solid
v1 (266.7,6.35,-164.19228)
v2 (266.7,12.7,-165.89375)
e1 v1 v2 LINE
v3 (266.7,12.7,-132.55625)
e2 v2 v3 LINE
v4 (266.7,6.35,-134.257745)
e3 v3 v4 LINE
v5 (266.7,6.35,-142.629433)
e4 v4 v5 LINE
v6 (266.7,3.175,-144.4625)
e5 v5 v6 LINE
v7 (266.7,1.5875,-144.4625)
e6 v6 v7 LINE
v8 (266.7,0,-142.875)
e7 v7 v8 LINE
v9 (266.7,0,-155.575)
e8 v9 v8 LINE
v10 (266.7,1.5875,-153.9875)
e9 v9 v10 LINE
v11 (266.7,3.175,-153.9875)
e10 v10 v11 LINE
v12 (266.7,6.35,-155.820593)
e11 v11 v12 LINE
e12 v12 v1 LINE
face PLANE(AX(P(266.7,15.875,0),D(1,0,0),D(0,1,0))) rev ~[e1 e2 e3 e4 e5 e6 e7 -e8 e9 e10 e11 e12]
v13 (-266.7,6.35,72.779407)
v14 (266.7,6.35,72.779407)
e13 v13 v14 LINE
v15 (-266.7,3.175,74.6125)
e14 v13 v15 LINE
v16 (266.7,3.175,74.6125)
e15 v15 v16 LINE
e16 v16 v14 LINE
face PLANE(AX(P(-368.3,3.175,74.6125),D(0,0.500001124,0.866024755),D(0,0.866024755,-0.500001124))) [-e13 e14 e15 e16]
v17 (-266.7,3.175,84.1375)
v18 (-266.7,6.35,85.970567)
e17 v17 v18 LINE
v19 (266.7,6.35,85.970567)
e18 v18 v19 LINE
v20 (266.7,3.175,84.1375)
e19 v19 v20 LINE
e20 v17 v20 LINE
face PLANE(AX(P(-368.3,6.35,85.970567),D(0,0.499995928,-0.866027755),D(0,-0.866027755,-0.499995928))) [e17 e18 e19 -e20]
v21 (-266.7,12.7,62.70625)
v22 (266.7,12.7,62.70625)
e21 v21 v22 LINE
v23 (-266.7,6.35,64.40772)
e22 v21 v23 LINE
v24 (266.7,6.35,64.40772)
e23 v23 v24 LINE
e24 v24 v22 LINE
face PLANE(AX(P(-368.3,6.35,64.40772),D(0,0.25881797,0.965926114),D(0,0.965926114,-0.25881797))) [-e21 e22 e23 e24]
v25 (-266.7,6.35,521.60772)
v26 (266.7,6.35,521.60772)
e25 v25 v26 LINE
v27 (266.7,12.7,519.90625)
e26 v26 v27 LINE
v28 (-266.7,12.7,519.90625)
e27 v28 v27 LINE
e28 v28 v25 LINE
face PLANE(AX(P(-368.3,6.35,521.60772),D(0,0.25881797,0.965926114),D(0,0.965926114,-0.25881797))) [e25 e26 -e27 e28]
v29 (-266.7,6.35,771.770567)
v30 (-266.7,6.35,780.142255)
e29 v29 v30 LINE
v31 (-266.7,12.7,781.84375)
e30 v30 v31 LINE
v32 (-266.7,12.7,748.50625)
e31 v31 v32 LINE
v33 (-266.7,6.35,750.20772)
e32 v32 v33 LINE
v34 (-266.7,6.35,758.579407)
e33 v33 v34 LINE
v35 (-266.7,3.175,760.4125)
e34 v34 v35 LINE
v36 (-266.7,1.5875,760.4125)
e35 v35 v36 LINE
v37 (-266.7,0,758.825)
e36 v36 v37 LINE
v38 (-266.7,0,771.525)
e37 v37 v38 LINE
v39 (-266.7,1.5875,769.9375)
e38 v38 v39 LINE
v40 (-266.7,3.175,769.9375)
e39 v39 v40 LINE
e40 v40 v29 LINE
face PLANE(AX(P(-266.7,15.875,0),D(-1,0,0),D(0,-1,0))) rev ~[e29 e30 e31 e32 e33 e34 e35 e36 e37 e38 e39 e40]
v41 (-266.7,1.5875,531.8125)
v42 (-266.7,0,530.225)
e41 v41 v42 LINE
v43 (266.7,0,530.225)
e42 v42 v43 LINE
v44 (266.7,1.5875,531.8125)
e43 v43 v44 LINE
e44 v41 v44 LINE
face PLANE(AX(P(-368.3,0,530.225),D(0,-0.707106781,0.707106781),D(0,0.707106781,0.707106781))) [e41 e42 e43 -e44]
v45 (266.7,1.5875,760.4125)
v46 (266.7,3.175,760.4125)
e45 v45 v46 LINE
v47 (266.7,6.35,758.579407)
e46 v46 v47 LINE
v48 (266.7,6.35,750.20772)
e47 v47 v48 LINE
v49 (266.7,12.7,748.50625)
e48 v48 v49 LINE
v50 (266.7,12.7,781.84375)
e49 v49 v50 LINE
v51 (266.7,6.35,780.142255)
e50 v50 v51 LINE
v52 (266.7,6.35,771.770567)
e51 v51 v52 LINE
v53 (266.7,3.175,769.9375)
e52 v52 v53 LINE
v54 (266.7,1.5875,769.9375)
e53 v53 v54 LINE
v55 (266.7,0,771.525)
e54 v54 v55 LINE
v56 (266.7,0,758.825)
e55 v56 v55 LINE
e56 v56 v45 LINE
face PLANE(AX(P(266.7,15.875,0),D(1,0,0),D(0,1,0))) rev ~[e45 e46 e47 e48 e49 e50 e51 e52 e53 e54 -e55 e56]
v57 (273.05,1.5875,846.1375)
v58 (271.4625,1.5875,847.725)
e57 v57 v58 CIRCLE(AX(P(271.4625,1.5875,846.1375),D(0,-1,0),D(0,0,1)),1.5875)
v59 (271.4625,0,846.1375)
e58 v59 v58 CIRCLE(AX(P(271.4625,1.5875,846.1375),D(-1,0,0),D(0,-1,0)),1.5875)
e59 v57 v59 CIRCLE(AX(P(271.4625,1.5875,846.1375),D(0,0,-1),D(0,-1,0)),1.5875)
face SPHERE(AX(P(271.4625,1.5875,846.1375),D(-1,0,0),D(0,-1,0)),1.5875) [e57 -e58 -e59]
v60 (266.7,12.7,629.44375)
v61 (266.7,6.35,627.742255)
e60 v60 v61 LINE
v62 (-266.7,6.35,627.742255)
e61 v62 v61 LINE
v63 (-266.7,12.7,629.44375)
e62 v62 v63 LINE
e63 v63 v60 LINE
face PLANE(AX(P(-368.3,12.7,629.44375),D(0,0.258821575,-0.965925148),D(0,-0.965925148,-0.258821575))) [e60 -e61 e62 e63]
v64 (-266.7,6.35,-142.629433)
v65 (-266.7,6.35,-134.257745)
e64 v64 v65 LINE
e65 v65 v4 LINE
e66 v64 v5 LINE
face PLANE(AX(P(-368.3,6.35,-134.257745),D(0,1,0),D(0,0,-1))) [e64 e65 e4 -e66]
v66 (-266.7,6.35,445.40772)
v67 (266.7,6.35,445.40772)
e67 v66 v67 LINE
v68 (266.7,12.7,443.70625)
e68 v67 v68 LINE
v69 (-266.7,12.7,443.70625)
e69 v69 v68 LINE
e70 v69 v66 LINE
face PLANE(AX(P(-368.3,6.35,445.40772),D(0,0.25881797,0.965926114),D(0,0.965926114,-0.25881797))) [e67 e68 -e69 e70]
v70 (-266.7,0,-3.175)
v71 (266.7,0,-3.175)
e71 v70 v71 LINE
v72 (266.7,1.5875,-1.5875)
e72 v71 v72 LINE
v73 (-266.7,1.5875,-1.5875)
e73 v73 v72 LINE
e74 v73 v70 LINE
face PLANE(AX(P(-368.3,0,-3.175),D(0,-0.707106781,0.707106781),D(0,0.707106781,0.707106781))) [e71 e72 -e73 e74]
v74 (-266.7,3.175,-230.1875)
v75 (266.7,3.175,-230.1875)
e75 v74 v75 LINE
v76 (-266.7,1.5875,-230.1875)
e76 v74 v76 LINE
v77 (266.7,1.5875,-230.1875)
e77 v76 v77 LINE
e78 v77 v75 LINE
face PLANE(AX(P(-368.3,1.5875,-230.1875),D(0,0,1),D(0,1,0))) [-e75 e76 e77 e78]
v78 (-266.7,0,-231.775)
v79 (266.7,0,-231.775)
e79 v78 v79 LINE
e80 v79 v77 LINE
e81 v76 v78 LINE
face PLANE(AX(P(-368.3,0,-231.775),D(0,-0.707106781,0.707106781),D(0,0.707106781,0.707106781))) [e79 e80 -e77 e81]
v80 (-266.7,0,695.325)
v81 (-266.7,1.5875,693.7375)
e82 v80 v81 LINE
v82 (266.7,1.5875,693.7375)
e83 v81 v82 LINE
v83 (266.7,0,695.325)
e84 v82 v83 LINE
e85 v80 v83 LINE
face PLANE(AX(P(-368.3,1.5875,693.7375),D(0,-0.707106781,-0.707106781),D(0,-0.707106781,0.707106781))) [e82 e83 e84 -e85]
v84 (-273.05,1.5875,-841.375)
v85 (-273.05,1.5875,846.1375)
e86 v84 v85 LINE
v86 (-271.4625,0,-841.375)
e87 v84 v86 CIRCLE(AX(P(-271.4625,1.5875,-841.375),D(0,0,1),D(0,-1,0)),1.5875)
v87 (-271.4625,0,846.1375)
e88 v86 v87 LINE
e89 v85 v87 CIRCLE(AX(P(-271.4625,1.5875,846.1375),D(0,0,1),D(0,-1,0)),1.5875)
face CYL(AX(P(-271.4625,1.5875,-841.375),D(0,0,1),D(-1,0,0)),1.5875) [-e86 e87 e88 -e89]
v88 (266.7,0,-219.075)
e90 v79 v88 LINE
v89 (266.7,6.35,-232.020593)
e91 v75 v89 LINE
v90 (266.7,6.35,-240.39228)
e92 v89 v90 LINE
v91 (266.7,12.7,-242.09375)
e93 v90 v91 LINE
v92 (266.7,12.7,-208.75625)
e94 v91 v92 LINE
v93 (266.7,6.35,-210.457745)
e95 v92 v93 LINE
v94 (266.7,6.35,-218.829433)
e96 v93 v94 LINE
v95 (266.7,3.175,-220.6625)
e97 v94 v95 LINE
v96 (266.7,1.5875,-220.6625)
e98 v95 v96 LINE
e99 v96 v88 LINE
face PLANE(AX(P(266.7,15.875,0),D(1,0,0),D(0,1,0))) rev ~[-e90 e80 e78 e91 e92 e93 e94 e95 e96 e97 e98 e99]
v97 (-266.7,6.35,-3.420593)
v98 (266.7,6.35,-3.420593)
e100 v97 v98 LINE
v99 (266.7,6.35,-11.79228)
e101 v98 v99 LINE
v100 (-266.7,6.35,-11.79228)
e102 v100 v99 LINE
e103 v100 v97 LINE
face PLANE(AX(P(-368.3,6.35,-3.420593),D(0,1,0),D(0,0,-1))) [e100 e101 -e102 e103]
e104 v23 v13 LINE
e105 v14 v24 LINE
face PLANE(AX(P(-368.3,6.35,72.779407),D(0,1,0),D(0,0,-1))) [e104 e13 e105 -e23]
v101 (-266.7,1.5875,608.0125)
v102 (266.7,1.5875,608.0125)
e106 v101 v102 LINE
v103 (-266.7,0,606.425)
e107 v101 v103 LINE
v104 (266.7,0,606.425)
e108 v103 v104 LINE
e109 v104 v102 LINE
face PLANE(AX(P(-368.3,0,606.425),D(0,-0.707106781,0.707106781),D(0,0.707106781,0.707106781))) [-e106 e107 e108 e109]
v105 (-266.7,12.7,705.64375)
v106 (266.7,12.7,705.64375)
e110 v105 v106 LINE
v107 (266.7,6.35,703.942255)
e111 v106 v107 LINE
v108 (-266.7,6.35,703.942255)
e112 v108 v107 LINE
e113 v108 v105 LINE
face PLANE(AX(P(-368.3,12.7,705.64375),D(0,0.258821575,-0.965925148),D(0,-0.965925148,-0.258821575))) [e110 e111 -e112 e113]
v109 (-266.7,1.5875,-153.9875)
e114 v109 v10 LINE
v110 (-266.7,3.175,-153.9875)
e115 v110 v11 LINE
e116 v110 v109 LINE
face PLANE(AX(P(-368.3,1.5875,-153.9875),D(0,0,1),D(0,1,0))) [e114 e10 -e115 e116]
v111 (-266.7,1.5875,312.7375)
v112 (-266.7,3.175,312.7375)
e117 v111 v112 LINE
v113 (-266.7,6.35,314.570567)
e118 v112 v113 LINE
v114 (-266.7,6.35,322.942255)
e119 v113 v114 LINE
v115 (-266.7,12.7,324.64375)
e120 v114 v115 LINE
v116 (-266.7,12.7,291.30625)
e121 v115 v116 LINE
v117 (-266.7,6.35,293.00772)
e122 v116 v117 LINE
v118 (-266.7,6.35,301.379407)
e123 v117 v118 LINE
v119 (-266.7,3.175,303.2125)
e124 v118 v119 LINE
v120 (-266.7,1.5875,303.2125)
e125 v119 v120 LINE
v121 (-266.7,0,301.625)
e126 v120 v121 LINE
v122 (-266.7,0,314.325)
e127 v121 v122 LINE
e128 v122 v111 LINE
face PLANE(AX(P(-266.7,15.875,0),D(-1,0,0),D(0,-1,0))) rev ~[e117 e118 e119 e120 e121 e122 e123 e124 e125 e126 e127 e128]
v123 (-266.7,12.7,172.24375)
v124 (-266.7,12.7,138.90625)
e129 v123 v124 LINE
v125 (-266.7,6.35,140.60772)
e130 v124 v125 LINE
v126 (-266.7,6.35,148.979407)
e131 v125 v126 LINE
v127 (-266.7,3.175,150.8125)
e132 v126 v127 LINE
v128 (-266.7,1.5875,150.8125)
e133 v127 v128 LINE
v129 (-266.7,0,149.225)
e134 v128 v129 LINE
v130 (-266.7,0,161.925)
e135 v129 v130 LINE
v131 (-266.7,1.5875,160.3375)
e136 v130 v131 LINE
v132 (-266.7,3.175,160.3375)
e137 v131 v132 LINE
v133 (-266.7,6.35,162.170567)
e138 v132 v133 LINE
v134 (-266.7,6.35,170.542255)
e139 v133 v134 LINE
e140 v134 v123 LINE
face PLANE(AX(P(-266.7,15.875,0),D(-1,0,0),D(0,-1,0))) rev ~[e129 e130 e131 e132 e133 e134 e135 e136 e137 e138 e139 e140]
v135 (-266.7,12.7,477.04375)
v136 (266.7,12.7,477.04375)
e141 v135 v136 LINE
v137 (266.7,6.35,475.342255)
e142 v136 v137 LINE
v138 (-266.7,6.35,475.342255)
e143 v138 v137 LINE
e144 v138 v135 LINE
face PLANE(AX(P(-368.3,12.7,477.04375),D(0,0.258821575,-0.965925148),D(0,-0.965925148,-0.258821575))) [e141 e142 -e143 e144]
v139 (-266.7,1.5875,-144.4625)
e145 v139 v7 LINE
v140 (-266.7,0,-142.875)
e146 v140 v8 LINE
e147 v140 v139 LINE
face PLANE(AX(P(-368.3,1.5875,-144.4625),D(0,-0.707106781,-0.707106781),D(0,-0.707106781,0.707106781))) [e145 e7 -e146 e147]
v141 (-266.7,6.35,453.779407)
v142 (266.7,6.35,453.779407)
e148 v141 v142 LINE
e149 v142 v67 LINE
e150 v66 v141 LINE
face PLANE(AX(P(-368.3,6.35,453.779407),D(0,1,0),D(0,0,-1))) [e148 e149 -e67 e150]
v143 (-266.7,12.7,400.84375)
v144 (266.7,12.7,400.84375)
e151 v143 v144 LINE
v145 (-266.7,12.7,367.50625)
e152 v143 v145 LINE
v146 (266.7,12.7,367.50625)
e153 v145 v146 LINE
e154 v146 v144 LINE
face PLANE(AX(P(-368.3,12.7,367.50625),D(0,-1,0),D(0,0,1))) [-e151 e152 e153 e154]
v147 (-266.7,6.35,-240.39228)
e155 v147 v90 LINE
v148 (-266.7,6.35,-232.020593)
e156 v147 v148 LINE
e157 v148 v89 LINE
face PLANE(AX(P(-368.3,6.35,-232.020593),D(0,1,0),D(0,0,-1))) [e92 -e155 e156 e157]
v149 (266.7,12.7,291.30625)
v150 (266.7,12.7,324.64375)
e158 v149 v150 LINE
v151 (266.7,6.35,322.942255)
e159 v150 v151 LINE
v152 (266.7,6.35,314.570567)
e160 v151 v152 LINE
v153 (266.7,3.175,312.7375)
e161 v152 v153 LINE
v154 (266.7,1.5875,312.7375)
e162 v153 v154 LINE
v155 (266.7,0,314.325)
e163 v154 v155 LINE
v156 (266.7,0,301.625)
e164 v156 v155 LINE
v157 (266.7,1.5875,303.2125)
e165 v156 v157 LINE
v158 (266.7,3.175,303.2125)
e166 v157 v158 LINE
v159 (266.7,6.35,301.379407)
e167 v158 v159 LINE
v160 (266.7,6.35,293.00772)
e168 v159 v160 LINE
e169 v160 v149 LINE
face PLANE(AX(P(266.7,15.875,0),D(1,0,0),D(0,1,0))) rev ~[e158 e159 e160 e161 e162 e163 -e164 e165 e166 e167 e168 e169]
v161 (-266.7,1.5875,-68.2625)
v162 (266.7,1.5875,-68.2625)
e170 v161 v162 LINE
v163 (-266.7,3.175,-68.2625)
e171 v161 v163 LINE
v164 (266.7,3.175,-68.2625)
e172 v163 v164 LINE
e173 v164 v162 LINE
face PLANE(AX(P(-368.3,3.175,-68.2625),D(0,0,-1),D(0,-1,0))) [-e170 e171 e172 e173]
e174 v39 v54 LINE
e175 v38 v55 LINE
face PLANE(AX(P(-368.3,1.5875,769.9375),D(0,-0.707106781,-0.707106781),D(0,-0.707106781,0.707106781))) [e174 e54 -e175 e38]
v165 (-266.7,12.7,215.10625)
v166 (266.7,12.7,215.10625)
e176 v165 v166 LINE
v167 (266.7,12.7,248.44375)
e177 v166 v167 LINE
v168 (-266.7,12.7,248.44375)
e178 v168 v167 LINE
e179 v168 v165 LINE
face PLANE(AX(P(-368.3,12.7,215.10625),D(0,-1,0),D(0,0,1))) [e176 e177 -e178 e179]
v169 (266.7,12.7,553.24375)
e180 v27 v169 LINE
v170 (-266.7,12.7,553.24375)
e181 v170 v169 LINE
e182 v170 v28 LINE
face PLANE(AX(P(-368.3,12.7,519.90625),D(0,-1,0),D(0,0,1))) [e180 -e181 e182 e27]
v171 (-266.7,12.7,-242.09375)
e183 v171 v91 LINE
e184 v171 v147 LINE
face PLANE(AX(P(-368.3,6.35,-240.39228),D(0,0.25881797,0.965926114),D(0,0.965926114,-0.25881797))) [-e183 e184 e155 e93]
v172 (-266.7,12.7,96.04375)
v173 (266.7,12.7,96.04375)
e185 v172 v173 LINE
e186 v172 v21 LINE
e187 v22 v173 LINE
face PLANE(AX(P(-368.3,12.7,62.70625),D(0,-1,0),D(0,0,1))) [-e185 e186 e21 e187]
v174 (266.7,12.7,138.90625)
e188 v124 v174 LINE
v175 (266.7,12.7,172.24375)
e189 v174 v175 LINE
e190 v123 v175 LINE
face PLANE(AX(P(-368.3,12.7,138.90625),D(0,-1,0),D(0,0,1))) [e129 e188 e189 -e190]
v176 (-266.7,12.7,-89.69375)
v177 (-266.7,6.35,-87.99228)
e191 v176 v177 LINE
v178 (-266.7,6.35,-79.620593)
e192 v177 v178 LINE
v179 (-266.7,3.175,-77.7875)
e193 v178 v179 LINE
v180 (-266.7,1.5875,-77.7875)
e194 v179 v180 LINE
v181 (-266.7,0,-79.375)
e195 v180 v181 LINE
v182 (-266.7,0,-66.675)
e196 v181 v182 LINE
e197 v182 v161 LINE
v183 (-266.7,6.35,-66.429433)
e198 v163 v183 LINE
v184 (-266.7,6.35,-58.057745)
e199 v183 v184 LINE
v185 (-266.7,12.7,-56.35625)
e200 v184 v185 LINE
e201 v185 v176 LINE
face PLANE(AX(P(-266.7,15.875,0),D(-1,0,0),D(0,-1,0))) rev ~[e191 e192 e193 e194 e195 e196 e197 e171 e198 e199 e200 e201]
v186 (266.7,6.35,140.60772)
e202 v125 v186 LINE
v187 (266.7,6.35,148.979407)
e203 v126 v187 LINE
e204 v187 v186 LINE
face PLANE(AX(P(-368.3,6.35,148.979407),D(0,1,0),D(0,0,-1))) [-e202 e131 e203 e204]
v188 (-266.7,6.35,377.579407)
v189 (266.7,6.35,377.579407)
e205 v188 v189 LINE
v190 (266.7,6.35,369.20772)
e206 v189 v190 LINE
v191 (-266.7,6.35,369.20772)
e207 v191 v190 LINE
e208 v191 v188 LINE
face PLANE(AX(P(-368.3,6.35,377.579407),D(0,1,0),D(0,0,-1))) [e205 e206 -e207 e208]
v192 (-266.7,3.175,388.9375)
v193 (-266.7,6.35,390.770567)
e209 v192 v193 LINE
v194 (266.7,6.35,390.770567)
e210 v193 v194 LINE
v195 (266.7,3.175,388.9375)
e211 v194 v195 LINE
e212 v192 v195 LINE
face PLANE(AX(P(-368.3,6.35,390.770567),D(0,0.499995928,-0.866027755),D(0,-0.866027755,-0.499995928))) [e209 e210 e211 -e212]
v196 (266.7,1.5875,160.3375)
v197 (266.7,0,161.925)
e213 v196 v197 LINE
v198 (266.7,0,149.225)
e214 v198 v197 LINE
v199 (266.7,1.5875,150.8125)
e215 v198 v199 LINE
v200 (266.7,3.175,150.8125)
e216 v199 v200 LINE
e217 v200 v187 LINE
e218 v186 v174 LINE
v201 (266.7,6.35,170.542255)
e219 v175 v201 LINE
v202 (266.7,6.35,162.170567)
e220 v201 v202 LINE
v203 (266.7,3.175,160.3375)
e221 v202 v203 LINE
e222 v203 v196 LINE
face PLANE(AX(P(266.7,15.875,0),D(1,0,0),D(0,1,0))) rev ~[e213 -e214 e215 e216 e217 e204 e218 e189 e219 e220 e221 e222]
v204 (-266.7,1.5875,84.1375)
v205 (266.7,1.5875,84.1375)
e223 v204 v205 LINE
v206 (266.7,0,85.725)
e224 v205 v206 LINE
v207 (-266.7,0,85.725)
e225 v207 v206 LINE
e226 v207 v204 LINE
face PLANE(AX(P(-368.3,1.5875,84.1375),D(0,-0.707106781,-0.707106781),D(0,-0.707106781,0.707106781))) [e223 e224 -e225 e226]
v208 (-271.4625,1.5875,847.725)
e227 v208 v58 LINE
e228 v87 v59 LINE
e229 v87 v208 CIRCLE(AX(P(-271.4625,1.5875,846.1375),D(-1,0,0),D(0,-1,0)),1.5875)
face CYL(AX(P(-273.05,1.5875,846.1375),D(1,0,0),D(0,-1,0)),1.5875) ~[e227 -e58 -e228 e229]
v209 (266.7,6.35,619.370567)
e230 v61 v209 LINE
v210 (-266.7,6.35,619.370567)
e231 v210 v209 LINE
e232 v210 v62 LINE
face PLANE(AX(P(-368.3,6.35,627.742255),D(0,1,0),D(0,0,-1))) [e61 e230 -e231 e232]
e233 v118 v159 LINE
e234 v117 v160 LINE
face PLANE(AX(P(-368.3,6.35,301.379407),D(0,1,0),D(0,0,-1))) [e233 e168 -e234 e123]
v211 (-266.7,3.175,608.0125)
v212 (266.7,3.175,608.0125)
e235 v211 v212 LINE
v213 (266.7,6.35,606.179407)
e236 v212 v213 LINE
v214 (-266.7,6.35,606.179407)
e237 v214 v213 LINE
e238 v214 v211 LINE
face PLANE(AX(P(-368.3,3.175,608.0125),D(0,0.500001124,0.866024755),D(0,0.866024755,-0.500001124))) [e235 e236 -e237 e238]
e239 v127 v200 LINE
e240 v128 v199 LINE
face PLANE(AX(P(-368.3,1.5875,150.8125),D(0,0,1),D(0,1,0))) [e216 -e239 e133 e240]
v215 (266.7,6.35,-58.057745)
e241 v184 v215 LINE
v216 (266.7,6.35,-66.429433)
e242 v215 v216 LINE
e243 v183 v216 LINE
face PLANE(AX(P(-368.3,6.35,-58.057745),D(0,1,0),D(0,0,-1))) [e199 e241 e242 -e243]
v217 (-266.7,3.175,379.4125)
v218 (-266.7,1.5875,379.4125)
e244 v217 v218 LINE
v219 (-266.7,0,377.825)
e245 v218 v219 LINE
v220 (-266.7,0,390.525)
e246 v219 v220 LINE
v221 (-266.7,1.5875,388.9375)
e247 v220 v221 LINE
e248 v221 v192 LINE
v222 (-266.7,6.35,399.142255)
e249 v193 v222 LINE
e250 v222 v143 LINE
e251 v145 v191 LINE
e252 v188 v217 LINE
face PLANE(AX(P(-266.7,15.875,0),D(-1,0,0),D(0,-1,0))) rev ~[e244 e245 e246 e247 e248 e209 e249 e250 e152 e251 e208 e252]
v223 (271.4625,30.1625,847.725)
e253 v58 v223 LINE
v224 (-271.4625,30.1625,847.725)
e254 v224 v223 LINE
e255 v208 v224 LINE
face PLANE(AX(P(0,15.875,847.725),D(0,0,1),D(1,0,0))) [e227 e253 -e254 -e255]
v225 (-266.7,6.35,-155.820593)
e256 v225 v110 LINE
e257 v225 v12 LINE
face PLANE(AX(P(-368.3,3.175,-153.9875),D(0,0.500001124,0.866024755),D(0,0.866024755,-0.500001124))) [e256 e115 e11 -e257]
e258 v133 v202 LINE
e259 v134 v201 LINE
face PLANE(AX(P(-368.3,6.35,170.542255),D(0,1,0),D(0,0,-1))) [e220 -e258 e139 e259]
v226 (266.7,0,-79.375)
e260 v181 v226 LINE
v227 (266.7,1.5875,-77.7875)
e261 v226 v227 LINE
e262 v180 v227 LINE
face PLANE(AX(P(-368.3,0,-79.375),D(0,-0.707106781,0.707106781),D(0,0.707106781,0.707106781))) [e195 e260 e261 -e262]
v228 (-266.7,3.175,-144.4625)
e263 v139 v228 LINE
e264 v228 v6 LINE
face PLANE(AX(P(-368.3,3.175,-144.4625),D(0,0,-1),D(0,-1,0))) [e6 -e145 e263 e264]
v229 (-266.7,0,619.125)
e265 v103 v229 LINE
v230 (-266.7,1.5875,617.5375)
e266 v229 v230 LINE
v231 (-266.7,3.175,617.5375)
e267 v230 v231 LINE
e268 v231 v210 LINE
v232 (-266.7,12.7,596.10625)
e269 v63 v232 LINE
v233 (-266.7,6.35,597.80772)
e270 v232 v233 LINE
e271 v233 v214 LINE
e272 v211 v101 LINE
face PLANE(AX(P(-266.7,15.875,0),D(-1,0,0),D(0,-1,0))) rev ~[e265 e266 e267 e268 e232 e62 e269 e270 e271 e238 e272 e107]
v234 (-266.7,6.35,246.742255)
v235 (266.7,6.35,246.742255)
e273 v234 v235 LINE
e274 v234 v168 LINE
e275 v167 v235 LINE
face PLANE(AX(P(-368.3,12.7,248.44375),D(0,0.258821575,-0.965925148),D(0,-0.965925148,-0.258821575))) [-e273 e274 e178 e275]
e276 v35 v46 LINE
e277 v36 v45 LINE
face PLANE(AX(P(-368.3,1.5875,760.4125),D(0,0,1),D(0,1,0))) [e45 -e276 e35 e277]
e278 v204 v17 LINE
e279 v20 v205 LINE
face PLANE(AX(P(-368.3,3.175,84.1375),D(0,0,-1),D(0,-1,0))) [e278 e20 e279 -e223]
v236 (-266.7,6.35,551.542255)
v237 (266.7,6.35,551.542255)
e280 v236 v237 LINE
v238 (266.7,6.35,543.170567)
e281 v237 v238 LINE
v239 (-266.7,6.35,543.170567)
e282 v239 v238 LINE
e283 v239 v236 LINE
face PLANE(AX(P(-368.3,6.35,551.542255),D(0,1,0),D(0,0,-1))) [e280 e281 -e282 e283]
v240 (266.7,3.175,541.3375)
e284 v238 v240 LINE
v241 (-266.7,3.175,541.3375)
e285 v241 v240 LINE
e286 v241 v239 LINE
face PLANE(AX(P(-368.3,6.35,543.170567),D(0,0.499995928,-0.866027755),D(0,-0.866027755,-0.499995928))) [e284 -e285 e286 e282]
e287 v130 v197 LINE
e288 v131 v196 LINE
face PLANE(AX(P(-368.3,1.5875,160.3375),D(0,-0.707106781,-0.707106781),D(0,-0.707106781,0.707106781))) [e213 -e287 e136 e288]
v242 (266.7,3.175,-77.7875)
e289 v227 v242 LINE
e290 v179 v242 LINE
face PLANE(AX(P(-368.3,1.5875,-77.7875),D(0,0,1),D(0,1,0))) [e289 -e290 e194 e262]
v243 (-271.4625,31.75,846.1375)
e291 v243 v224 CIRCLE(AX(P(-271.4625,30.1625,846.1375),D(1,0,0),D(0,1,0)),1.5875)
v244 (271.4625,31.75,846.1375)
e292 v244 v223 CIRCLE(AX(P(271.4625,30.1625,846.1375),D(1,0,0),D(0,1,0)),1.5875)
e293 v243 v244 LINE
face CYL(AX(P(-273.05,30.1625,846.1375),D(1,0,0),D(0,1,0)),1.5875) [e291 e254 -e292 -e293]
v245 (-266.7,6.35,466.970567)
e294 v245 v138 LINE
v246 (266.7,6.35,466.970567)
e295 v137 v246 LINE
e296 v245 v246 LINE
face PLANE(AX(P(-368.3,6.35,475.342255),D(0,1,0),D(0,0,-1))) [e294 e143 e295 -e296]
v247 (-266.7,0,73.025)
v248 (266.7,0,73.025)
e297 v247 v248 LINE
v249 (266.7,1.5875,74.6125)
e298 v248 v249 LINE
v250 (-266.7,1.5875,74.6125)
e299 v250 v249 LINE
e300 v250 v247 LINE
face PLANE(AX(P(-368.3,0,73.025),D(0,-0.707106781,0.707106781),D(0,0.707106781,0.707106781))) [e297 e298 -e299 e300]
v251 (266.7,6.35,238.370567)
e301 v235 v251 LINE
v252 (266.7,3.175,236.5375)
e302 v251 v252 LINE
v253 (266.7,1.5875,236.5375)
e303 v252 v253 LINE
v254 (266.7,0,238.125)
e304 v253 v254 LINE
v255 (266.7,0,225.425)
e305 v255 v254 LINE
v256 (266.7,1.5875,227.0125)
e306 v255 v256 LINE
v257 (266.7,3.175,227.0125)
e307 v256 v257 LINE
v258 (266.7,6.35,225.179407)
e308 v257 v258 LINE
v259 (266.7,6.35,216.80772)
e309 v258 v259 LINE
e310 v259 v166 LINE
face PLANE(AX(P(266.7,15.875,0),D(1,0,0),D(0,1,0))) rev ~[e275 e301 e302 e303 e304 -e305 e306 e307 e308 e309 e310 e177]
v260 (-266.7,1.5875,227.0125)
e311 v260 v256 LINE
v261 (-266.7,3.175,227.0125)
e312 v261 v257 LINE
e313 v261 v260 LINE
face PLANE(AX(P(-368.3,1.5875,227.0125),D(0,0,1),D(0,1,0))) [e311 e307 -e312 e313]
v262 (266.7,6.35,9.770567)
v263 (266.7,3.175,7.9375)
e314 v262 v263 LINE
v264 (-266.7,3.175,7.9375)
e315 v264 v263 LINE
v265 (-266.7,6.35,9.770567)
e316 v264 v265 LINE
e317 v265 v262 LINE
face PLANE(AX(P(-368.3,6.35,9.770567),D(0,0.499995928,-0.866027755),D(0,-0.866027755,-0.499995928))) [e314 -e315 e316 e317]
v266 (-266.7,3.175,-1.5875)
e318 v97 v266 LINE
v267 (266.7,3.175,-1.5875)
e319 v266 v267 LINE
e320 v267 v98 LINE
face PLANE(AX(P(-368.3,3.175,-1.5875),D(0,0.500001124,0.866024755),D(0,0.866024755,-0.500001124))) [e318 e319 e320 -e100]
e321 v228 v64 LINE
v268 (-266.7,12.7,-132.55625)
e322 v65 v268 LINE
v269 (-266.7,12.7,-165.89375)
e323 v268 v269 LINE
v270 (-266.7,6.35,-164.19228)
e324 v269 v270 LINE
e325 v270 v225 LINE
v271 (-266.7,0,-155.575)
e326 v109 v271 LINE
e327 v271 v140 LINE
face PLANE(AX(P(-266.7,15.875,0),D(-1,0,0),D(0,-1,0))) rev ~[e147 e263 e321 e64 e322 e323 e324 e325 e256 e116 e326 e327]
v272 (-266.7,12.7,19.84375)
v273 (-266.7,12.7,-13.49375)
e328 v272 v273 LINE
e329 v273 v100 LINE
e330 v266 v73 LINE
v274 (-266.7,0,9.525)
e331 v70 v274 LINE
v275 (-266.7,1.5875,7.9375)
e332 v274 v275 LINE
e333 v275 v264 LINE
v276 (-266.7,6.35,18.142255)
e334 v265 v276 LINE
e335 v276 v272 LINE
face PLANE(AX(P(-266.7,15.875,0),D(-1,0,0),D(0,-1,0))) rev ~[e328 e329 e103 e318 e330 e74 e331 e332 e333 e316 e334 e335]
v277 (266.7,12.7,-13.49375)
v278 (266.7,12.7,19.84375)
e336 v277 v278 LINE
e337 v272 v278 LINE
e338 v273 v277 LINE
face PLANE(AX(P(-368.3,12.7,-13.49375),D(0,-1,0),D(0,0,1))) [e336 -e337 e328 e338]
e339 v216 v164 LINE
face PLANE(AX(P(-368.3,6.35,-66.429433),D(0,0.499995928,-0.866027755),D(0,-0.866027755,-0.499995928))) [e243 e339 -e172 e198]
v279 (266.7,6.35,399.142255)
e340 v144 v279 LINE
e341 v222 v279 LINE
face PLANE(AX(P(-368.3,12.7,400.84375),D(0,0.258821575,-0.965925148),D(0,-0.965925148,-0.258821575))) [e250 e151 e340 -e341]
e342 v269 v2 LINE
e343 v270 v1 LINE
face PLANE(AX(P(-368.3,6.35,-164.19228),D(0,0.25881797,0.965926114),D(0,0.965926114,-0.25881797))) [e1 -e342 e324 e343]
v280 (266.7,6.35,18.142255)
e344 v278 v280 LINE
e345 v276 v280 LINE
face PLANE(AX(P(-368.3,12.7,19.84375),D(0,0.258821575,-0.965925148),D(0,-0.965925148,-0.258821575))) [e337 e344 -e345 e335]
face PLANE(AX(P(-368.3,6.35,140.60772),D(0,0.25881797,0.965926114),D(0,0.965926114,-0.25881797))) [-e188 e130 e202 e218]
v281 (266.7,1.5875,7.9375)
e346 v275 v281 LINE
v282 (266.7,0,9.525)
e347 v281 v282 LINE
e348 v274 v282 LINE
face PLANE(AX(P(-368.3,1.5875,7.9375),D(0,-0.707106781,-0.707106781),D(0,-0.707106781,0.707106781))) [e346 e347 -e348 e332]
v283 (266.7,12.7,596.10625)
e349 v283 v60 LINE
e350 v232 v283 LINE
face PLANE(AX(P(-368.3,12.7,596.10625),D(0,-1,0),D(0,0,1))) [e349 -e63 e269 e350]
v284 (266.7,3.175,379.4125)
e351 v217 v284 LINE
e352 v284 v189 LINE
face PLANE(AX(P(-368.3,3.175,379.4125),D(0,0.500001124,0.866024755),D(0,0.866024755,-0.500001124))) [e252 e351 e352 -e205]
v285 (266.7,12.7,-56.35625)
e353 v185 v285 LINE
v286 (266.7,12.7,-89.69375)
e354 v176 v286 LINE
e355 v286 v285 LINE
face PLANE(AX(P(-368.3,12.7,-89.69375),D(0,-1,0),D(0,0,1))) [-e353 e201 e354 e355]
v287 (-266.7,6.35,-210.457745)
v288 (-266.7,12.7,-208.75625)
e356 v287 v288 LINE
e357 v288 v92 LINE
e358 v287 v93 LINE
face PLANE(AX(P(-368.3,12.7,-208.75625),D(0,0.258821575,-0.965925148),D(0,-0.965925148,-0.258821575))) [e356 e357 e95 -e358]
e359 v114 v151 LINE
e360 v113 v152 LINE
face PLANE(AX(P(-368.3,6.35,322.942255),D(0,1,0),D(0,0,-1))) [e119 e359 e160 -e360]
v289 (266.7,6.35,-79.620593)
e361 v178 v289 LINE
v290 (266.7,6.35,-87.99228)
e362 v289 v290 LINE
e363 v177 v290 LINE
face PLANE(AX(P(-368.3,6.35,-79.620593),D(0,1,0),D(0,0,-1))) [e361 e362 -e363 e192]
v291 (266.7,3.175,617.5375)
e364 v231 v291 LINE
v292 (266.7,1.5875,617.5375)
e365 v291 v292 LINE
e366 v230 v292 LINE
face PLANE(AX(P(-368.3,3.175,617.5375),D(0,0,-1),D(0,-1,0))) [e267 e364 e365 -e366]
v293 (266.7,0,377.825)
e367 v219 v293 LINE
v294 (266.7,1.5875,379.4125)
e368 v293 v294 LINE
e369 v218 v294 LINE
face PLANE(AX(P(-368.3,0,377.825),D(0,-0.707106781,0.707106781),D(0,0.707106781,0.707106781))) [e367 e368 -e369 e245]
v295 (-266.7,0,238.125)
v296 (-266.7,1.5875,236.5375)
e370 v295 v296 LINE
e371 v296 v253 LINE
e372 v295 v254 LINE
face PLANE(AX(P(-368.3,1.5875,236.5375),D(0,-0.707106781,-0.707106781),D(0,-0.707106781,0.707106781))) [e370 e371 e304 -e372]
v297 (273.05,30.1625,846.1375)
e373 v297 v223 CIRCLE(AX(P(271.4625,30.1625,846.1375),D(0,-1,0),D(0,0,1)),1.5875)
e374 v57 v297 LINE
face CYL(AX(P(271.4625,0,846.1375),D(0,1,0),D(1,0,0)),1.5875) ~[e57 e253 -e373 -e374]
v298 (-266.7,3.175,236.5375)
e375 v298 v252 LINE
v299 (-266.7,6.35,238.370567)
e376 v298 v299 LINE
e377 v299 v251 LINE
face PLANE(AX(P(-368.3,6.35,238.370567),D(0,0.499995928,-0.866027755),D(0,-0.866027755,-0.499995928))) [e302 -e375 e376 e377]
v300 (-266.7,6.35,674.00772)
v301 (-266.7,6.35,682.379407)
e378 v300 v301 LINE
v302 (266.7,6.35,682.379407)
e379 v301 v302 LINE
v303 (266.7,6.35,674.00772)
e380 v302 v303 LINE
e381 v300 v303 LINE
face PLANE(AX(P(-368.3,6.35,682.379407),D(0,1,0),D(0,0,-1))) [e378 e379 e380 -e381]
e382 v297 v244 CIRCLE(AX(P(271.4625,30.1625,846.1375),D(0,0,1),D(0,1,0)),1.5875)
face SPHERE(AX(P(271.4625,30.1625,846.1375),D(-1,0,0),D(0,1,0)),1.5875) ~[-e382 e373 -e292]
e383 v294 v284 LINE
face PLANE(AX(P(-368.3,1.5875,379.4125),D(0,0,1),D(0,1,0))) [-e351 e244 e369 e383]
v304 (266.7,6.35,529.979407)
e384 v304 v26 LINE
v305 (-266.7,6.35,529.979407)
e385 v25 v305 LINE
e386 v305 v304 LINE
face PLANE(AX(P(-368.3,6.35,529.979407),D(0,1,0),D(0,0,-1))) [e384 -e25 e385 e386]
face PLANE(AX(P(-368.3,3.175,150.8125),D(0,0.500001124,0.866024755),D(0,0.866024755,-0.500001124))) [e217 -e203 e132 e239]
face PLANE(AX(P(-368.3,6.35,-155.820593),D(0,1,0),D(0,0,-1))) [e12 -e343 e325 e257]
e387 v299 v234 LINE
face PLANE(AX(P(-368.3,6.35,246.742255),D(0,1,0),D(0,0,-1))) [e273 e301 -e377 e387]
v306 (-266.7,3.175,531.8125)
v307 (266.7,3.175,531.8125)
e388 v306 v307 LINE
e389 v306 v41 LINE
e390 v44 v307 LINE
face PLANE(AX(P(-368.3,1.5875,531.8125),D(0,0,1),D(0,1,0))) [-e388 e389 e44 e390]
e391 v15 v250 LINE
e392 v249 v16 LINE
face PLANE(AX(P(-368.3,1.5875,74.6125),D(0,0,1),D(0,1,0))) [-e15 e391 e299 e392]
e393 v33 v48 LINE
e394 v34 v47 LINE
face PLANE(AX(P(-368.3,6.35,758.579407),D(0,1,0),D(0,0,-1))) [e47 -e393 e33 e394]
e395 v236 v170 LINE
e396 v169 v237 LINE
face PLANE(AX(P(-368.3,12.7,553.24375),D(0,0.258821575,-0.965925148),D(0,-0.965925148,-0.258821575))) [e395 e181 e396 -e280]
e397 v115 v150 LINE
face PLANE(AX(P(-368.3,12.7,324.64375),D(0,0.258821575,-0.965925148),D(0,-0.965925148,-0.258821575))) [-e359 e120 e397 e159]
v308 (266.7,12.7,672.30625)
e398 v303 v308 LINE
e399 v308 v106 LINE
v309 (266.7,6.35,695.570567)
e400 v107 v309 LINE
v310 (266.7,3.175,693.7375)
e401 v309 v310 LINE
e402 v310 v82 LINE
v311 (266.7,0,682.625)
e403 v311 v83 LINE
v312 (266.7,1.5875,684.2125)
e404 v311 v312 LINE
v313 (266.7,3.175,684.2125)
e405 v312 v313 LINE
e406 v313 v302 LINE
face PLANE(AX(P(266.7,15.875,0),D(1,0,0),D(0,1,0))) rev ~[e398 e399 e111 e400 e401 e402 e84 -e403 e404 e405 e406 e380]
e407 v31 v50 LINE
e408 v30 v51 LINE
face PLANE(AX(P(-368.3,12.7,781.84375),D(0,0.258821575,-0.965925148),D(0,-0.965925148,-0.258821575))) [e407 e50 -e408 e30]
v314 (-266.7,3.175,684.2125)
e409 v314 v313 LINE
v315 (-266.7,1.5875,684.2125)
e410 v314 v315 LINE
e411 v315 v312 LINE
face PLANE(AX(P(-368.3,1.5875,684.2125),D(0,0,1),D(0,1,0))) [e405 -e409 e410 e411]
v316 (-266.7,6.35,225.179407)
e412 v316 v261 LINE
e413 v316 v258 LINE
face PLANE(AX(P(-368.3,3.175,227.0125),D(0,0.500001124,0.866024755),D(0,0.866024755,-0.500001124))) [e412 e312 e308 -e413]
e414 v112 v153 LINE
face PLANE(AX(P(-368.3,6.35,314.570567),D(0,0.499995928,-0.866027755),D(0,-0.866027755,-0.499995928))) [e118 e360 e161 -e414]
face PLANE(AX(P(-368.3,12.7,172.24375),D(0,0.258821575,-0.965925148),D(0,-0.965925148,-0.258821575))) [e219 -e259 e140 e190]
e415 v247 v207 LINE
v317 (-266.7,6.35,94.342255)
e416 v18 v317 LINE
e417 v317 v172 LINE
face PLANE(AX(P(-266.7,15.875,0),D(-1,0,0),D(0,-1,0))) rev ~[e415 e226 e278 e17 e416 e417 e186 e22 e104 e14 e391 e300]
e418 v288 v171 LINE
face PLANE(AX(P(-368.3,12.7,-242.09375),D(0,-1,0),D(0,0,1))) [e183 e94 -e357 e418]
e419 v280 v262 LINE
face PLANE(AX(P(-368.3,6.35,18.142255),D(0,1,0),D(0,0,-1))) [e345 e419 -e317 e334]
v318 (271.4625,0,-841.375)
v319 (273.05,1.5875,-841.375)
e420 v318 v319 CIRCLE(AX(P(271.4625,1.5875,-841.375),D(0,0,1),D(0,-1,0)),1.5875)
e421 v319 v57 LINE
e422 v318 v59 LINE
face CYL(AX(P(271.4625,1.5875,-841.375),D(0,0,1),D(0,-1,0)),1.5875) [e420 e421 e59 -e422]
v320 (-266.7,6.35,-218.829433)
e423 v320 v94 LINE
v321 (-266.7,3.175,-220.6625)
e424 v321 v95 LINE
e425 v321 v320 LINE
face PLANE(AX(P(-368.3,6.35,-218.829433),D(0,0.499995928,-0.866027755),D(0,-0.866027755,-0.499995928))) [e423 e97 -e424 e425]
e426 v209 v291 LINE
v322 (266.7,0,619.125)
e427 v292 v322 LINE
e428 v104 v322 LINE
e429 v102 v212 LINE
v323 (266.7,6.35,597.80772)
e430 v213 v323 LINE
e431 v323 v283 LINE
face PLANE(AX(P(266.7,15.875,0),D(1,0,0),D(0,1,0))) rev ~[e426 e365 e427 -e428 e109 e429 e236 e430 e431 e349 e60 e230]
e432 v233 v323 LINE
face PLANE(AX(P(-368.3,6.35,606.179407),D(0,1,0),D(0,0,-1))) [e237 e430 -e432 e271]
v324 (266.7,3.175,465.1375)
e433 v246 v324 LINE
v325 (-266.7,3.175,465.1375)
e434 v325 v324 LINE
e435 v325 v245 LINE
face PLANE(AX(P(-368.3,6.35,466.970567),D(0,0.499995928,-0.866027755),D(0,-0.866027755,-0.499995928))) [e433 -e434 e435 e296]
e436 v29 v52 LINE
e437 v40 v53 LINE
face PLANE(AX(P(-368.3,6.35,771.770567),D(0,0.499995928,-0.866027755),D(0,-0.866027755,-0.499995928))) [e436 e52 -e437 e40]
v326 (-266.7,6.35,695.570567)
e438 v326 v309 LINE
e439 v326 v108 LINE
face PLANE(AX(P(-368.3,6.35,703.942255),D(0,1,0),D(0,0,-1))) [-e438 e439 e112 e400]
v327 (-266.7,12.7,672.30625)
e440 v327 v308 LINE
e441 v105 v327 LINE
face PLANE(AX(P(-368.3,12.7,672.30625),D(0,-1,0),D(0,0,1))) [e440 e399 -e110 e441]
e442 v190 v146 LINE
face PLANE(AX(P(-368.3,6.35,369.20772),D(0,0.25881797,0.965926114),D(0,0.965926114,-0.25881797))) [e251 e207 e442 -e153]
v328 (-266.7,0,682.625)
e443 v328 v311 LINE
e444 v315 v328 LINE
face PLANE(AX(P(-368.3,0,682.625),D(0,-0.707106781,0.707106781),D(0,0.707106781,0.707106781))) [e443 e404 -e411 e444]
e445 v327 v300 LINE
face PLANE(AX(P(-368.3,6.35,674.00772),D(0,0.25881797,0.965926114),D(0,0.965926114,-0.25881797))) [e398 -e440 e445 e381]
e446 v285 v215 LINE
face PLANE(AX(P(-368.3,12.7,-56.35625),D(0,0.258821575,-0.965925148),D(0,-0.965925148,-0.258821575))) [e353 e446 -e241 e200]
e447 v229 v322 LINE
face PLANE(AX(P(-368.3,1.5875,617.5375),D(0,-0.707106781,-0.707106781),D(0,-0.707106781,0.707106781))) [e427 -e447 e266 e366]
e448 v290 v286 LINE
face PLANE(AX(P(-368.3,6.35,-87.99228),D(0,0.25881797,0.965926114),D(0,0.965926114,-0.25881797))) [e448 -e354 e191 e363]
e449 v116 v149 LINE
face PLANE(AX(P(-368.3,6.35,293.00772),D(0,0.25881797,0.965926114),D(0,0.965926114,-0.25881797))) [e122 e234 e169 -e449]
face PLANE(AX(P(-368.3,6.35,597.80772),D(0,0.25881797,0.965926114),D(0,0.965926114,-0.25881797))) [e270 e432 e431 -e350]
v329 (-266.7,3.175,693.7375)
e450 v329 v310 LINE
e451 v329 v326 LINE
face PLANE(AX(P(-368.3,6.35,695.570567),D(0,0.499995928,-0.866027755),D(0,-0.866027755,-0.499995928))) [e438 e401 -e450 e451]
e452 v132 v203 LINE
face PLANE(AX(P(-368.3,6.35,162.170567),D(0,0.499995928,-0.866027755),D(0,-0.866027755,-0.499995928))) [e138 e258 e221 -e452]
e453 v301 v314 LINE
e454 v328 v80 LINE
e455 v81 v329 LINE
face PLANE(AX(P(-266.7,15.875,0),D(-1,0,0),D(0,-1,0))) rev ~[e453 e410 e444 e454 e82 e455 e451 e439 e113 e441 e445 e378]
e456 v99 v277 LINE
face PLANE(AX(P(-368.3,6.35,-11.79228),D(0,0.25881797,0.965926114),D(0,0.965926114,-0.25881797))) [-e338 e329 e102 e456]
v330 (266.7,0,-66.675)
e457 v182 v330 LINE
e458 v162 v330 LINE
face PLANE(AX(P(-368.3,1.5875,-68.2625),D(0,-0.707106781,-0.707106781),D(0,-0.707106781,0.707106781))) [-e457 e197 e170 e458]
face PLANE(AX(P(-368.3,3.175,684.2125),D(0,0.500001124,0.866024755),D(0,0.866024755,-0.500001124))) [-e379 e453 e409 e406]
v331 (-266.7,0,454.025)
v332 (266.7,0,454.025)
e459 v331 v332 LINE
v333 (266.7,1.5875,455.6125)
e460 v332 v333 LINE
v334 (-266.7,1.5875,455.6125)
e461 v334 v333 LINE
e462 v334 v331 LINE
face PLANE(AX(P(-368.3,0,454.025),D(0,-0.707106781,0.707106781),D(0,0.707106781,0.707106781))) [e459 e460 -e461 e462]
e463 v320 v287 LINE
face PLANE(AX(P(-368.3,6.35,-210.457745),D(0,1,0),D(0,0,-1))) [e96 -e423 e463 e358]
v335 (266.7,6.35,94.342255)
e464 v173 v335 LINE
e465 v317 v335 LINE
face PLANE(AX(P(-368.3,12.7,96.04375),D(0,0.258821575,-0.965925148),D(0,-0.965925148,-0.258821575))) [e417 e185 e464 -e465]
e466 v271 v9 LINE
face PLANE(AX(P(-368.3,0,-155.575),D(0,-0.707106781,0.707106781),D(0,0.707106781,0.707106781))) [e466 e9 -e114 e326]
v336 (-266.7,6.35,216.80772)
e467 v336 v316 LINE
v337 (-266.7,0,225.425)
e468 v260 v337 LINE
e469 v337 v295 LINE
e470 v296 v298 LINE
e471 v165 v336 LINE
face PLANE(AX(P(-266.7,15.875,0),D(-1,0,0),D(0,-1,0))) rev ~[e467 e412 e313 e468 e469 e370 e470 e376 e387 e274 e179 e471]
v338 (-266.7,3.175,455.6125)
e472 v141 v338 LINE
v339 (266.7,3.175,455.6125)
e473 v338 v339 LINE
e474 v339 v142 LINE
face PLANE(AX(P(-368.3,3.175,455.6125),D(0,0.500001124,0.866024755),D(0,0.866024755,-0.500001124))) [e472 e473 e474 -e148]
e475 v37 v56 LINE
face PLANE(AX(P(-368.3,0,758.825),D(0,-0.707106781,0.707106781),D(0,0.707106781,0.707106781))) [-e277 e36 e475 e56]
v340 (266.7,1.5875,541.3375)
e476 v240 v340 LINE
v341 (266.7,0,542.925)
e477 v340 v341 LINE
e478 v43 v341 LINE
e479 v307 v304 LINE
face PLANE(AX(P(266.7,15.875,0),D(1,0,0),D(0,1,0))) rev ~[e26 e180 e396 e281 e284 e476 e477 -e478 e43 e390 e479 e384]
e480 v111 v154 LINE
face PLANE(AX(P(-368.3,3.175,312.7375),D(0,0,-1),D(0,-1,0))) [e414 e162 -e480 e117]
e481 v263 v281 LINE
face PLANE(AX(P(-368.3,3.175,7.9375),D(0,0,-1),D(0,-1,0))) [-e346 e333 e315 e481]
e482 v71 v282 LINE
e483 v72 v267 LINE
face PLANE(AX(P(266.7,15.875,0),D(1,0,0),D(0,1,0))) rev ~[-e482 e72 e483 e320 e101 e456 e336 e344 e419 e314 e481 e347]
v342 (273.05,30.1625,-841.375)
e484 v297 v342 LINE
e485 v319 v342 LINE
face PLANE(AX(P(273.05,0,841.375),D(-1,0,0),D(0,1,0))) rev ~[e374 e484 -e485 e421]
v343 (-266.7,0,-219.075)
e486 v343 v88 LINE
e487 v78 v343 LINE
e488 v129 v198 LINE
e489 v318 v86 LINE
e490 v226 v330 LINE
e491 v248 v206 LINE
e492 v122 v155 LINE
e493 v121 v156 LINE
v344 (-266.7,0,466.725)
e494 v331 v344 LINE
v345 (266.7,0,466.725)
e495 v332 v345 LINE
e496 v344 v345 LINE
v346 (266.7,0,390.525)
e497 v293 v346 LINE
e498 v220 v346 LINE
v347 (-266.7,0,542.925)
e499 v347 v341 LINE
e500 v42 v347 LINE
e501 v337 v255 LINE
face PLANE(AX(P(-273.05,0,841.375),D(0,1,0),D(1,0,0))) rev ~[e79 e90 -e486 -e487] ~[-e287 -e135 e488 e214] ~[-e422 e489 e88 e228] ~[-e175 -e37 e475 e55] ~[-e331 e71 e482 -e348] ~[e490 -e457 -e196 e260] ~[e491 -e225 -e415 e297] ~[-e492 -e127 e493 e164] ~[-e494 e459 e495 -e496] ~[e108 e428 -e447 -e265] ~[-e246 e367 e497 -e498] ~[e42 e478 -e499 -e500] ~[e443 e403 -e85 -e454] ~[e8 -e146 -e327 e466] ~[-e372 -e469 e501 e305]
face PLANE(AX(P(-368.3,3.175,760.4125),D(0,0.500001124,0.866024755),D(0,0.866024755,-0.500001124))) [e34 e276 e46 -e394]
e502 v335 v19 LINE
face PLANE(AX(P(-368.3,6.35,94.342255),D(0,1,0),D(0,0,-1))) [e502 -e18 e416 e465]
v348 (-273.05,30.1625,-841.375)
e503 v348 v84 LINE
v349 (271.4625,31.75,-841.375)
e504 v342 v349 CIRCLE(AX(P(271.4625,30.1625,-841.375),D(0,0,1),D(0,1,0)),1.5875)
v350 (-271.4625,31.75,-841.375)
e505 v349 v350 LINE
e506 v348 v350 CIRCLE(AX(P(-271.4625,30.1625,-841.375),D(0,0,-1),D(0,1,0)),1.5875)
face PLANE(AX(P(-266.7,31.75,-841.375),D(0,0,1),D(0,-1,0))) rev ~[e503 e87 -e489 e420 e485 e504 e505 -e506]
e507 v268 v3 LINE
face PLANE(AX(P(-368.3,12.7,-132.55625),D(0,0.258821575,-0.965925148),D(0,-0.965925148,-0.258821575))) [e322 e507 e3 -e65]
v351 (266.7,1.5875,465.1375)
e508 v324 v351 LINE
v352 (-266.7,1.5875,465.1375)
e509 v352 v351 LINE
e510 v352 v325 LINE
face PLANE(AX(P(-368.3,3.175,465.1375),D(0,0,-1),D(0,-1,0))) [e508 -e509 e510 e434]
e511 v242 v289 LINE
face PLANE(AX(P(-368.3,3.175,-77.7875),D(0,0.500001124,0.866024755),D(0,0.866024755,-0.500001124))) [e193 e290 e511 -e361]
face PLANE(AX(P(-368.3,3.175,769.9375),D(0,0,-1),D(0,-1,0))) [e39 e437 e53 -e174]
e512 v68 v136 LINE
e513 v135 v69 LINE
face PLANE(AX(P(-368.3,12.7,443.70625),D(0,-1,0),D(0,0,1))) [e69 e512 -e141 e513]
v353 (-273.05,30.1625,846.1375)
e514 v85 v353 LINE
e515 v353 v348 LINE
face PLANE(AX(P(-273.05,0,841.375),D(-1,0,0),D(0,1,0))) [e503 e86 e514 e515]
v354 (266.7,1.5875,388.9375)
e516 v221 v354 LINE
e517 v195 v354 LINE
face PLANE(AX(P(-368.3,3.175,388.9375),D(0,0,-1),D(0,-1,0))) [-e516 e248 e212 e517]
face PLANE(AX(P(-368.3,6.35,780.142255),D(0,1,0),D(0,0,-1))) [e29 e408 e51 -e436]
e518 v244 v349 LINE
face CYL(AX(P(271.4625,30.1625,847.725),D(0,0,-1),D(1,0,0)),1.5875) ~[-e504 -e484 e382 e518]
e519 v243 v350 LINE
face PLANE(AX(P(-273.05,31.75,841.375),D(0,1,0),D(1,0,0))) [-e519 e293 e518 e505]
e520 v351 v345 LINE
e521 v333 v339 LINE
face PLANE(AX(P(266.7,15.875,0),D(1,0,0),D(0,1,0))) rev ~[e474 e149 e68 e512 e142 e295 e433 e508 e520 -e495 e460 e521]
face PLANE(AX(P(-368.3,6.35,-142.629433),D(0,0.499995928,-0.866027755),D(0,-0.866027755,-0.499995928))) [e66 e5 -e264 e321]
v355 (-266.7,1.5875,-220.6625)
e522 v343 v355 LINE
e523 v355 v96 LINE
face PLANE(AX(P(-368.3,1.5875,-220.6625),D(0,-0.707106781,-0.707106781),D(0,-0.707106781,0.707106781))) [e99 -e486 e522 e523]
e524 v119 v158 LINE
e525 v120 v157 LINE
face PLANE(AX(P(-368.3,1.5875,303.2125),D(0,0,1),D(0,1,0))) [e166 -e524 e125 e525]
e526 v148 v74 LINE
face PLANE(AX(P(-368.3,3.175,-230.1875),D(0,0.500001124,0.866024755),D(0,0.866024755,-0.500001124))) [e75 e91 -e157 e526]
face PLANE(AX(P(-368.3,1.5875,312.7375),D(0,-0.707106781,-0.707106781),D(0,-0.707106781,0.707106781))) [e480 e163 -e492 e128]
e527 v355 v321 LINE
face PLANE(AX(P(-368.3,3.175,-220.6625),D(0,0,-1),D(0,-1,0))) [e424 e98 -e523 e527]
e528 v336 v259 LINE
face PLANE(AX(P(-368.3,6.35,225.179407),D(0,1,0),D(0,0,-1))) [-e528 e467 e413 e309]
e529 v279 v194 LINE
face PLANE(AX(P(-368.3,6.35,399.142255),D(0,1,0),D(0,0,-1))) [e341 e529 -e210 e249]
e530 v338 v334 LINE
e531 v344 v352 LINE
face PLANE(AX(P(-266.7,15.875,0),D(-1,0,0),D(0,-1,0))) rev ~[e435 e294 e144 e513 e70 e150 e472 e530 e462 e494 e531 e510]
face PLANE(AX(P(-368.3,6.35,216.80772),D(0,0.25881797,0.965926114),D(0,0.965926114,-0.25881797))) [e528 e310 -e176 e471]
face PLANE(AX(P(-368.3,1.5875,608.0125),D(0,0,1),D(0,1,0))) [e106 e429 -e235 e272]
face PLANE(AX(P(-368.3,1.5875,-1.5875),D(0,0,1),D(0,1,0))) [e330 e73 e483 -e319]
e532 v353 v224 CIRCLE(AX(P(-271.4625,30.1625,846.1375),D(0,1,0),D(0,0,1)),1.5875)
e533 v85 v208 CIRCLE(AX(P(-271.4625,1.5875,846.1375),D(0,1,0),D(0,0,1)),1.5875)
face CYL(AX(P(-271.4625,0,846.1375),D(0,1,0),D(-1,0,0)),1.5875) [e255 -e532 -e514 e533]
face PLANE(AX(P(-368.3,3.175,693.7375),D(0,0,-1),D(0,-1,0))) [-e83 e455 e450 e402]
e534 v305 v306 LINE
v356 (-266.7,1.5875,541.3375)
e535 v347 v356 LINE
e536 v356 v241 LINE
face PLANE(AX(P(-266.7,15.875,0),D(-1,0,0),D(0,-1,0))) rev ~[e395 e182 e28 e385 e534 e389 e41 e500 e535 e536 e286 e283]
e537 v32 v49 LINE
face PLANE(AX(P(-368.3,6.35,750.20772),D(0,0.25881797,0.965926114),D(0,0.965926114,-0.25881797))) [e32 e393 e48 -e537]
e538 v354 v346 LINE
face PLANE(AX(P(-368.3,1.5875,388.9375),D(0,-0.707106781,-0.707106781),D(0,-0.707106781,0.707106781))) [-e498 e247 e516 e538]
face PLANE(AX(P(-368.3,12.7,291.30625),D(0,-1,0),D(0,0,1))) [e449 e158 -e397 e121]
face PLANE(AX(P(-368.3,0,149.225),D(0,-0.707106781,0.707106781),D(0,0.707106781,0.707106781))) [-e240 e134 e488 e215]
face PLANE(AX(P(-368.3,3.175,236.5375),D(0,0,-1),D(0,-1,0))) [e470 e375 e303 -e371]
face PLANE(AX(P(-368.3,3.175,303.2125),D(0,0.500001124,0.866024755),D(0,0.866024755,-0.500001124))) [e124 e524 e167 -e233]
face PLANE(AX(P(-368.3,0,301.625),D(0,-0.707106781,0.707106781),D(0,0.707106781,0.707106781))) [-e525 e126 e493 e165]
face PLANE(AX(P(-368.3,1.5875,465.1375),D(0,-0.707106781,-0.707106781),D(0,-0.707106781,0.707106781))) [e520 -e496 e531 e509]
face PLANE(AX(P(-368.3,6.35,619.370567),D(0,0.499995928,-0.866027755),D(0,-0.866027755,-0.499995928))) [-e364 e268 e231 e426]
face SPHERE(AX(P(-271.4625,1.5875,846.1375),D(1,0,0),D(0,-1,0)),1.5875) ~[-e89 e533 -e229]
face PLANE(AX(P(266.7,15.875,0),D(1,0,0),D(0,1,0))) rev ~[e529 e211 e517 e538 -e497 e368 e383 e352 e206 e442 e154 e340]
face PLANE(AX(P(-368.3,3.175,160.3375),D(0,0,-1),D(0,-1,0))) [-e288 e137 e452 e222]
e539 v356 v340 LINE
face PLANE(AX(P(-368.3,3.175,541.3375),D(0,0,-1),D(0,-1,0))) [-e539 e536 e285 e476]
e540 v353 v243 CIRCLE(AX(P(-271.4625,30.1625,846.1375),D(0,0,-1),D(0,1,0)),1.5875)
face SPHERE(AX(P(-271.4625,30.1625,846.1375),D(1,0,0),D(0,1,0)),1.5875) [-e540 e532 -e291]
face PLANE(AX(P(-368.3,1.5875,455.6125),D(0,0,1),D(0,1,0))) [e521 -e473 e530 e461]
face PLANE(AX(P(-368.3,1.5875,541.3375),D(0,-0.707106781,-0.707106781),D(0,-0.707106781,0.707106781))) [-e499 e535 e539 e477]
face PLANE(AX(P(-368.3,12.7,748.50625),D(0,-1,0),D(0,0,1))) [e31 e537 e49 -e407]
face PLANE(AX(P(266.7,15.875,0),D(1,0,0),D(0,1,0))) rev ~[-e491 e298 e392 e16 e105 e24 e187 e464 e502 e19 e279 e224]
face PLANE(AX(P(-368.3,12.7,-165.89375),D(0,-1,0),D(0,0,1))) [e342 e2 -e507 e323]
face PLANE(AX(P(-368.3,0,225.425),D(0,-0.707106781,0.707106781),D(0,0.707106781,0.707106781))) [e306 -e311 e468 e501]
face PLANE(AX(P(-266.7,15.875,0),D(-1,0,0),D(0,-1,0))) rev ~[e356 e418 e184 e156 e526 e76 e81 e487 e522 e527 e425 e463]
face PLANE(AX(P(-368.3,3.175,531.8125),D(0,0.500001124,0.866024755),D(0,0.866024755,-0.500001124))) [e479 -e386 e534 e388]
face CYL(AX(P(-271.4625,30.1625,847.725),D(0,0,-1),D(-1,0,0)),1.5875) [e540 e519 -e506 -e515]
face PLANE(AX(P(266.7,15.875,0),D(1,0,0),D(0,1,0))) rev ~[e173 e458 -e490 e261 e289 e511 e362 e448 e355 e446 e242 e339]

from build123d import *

# Parameters (mm, degrees)
F0_W      = 533.4
F0_H      = 1682.75
F1_DEPTH  = 31.75
F3_DEPTH  = 635
F21_W     = 31.75
F21_H     = 1682.75
F22_DEPTH = 6.35
F23_W     = 31.75
F23_H     = 1682.75
F24_DEPTH = 6.35
F25_W     = 546.1
F25_H     = 31.75
F26_DEPTH = 6.35
F27_R     = 1.5875


with BuildPart() as f1:
    # F0 (on Front) → F1 (new body)
    with BuildSketch(Plane.XZ):
        Rectangle(F0_W, F0_H)
    extrude(amount=-F1_DEPTH)


with BuildPart() as f3:
    # F2 (on face) → F3 (new body)
    with BuildSketch(Plane.YZ.offset(266.7)):
        Polygon((-6.35, -6.35), (-4.7625, -4.7625), (-3.175, -4.7625), (0, -6.5955926), (0, -14.9672802), (6.35, -16.66875), (6.35, 16.66875), (0, 14.9672548), (0, 6.5955672), (-3.175, 4.7625), (-4.7625, 4.7625), (-6.35, 6.35), align=None)
    extrude(amount=F3_DEPTH)


with BuildPart() as f6_1:
    # F6: copy of F3
    add(f3.part.moved(Location((-635, 6.35, -225.425))))


with BuildPart() as f7_1:
    # F7: copy of F3
    add(f3.part.moved(Location((-635, 6.35, -149.225))))


with BuildPart() as f8_1:
    # F8: copy of F3
    add(f3.part.moved(Location((-635, 6.35, -73.025))))


with BuildPart() as f9_1:
    # F9: copy of F3
    add(f3.part.moved(Location((-635, 6.35, 3.175))))


with BuildPart() as f10_1:
    # F10: copy of F3
    add(f3.part.moved(Location((-635, 6.35, 79.375))))


with BuildPart() as f11_1:
    # F11: copy of F3
    add(f3.part.moved(Location((-635, 6.35, 155.575))))


with BuildPart() as f12_1:
    # F12: copy of F3
    add(f3.part.moved(Location((-635, 6.35, 231.775))))


with BuildPart() as f13_1:
    # F13: copy of F3
    add(f3.part.moved(Location((-635, 6.35, 307.975))))


with BuildPart() as f14_1:
    # F14: copy of F3
    add(f3.part.moved(Location((-635, 6.35, 384.175))))


with BuildPart() as f15_1:
    # F15: copy of F3
    add(f3.part.moved(Location((-635, 6.35, 460.375))))


with BuildPart() as f16_1:
    # F16: copy of F3
    add(f3.part.moved(Location((-635, 6.35, 536.575))))


with BuildPart() as f17_1:
    # F17: copy of F3
    add(f3.part.moved(Location((-635, 6.35, 612.775))))


with BuildPart() as f18_1:
    # F18: copy of F3
    add(f3.part.moved(Location((-635, 6.35, 688.975))))


with BuildPart() as f3_1:
    # F19: moved
    add(f3.part.moved(Location((-635, 6.35, 765.175))))


with BuildPart() as f1_1:
    add(f1.part)

    # F20: cut F3, F18_1, F17_1, F16_1, F15_1, F14_1, F13_1, F12_1, F11_1, F10_1, F9_1, F8_1, F7_1, F6_1
    add(f3_1.part, mode=Mode.SUBTRACT)
    add(f18_1.part, mode=Mode.SUBTRACT)
    add(f17_1.part, mode=Mode.SUBTRACT)
    add(f16_1.part, mode=Mode.SUBTRACT)
    add(f15_1.part, mode=Mode.SUBTRACT)
    add(f14_1.part, mode=Mode.SUBTRACT)
    add(f13_1.part, mode=Mode.SUBTRACT)
    add(f12_1.part, mode=Mode.SUBTRACT)
    add(f11_1.part, mode=Mode.SUBTRACT)
    add(f10_1.part, mode=Mode.SUBTRACT)
    add(f9_1.part, mode=Mode.SUBTRACT)
    add(f8_1.part, mode=Mode.SUBTRACT)
    add(f7_1.part, mode=Mode.SUBTRACT)
    add(f6_1.part, mode=Mode.SUBTRACT)

    # F21 (on face) → F22 (join)
    with BuildSketch(Plane.YZ.offset(266.7)):
        with Locations((15.875, 0)):
            Rectangle(F21_W, F21_H)
    extrude(amount=F22_DEPTH)

    # F23 (on face) → F24 (join)
    with BuildSketch(Plane(origin=(-266.7, 0, 0), x_dir=(0, -1, 0), z_dir=(-1, 0, 0))):
        with Locations((-15.875, 0)):
            Rectangle(F23_W, F23_H)
    extrude(amount=F24_DEPTH)

    # F25 (on face) → F26 (join)
    with BuildSketch(Plane.XY.offset(841.375)):
        with Locations((0, 15.875)):
            Rectangle(F25_W, F25_H)
    extrude(amount=F26_DEPTH)

    # F27
    f27_edges = [f1_1.edges().sort_by_distance(p)[0] for p in [
        (0, 31.75, 847.725),
        (0, 0, 847.725),
        (-273.05, 31.75, 3.175),
        (-273.05, 0, 3.175),
        (273.05, 0, 3.175),
        (273.05, 31.75, 3.175),
        (273.05, 15.875, 847.725),
        (-273.05, 15.875, 847.725),
    ]]
    fillet(f27_edges, radius=F27_R)


solid = f1_1.part
